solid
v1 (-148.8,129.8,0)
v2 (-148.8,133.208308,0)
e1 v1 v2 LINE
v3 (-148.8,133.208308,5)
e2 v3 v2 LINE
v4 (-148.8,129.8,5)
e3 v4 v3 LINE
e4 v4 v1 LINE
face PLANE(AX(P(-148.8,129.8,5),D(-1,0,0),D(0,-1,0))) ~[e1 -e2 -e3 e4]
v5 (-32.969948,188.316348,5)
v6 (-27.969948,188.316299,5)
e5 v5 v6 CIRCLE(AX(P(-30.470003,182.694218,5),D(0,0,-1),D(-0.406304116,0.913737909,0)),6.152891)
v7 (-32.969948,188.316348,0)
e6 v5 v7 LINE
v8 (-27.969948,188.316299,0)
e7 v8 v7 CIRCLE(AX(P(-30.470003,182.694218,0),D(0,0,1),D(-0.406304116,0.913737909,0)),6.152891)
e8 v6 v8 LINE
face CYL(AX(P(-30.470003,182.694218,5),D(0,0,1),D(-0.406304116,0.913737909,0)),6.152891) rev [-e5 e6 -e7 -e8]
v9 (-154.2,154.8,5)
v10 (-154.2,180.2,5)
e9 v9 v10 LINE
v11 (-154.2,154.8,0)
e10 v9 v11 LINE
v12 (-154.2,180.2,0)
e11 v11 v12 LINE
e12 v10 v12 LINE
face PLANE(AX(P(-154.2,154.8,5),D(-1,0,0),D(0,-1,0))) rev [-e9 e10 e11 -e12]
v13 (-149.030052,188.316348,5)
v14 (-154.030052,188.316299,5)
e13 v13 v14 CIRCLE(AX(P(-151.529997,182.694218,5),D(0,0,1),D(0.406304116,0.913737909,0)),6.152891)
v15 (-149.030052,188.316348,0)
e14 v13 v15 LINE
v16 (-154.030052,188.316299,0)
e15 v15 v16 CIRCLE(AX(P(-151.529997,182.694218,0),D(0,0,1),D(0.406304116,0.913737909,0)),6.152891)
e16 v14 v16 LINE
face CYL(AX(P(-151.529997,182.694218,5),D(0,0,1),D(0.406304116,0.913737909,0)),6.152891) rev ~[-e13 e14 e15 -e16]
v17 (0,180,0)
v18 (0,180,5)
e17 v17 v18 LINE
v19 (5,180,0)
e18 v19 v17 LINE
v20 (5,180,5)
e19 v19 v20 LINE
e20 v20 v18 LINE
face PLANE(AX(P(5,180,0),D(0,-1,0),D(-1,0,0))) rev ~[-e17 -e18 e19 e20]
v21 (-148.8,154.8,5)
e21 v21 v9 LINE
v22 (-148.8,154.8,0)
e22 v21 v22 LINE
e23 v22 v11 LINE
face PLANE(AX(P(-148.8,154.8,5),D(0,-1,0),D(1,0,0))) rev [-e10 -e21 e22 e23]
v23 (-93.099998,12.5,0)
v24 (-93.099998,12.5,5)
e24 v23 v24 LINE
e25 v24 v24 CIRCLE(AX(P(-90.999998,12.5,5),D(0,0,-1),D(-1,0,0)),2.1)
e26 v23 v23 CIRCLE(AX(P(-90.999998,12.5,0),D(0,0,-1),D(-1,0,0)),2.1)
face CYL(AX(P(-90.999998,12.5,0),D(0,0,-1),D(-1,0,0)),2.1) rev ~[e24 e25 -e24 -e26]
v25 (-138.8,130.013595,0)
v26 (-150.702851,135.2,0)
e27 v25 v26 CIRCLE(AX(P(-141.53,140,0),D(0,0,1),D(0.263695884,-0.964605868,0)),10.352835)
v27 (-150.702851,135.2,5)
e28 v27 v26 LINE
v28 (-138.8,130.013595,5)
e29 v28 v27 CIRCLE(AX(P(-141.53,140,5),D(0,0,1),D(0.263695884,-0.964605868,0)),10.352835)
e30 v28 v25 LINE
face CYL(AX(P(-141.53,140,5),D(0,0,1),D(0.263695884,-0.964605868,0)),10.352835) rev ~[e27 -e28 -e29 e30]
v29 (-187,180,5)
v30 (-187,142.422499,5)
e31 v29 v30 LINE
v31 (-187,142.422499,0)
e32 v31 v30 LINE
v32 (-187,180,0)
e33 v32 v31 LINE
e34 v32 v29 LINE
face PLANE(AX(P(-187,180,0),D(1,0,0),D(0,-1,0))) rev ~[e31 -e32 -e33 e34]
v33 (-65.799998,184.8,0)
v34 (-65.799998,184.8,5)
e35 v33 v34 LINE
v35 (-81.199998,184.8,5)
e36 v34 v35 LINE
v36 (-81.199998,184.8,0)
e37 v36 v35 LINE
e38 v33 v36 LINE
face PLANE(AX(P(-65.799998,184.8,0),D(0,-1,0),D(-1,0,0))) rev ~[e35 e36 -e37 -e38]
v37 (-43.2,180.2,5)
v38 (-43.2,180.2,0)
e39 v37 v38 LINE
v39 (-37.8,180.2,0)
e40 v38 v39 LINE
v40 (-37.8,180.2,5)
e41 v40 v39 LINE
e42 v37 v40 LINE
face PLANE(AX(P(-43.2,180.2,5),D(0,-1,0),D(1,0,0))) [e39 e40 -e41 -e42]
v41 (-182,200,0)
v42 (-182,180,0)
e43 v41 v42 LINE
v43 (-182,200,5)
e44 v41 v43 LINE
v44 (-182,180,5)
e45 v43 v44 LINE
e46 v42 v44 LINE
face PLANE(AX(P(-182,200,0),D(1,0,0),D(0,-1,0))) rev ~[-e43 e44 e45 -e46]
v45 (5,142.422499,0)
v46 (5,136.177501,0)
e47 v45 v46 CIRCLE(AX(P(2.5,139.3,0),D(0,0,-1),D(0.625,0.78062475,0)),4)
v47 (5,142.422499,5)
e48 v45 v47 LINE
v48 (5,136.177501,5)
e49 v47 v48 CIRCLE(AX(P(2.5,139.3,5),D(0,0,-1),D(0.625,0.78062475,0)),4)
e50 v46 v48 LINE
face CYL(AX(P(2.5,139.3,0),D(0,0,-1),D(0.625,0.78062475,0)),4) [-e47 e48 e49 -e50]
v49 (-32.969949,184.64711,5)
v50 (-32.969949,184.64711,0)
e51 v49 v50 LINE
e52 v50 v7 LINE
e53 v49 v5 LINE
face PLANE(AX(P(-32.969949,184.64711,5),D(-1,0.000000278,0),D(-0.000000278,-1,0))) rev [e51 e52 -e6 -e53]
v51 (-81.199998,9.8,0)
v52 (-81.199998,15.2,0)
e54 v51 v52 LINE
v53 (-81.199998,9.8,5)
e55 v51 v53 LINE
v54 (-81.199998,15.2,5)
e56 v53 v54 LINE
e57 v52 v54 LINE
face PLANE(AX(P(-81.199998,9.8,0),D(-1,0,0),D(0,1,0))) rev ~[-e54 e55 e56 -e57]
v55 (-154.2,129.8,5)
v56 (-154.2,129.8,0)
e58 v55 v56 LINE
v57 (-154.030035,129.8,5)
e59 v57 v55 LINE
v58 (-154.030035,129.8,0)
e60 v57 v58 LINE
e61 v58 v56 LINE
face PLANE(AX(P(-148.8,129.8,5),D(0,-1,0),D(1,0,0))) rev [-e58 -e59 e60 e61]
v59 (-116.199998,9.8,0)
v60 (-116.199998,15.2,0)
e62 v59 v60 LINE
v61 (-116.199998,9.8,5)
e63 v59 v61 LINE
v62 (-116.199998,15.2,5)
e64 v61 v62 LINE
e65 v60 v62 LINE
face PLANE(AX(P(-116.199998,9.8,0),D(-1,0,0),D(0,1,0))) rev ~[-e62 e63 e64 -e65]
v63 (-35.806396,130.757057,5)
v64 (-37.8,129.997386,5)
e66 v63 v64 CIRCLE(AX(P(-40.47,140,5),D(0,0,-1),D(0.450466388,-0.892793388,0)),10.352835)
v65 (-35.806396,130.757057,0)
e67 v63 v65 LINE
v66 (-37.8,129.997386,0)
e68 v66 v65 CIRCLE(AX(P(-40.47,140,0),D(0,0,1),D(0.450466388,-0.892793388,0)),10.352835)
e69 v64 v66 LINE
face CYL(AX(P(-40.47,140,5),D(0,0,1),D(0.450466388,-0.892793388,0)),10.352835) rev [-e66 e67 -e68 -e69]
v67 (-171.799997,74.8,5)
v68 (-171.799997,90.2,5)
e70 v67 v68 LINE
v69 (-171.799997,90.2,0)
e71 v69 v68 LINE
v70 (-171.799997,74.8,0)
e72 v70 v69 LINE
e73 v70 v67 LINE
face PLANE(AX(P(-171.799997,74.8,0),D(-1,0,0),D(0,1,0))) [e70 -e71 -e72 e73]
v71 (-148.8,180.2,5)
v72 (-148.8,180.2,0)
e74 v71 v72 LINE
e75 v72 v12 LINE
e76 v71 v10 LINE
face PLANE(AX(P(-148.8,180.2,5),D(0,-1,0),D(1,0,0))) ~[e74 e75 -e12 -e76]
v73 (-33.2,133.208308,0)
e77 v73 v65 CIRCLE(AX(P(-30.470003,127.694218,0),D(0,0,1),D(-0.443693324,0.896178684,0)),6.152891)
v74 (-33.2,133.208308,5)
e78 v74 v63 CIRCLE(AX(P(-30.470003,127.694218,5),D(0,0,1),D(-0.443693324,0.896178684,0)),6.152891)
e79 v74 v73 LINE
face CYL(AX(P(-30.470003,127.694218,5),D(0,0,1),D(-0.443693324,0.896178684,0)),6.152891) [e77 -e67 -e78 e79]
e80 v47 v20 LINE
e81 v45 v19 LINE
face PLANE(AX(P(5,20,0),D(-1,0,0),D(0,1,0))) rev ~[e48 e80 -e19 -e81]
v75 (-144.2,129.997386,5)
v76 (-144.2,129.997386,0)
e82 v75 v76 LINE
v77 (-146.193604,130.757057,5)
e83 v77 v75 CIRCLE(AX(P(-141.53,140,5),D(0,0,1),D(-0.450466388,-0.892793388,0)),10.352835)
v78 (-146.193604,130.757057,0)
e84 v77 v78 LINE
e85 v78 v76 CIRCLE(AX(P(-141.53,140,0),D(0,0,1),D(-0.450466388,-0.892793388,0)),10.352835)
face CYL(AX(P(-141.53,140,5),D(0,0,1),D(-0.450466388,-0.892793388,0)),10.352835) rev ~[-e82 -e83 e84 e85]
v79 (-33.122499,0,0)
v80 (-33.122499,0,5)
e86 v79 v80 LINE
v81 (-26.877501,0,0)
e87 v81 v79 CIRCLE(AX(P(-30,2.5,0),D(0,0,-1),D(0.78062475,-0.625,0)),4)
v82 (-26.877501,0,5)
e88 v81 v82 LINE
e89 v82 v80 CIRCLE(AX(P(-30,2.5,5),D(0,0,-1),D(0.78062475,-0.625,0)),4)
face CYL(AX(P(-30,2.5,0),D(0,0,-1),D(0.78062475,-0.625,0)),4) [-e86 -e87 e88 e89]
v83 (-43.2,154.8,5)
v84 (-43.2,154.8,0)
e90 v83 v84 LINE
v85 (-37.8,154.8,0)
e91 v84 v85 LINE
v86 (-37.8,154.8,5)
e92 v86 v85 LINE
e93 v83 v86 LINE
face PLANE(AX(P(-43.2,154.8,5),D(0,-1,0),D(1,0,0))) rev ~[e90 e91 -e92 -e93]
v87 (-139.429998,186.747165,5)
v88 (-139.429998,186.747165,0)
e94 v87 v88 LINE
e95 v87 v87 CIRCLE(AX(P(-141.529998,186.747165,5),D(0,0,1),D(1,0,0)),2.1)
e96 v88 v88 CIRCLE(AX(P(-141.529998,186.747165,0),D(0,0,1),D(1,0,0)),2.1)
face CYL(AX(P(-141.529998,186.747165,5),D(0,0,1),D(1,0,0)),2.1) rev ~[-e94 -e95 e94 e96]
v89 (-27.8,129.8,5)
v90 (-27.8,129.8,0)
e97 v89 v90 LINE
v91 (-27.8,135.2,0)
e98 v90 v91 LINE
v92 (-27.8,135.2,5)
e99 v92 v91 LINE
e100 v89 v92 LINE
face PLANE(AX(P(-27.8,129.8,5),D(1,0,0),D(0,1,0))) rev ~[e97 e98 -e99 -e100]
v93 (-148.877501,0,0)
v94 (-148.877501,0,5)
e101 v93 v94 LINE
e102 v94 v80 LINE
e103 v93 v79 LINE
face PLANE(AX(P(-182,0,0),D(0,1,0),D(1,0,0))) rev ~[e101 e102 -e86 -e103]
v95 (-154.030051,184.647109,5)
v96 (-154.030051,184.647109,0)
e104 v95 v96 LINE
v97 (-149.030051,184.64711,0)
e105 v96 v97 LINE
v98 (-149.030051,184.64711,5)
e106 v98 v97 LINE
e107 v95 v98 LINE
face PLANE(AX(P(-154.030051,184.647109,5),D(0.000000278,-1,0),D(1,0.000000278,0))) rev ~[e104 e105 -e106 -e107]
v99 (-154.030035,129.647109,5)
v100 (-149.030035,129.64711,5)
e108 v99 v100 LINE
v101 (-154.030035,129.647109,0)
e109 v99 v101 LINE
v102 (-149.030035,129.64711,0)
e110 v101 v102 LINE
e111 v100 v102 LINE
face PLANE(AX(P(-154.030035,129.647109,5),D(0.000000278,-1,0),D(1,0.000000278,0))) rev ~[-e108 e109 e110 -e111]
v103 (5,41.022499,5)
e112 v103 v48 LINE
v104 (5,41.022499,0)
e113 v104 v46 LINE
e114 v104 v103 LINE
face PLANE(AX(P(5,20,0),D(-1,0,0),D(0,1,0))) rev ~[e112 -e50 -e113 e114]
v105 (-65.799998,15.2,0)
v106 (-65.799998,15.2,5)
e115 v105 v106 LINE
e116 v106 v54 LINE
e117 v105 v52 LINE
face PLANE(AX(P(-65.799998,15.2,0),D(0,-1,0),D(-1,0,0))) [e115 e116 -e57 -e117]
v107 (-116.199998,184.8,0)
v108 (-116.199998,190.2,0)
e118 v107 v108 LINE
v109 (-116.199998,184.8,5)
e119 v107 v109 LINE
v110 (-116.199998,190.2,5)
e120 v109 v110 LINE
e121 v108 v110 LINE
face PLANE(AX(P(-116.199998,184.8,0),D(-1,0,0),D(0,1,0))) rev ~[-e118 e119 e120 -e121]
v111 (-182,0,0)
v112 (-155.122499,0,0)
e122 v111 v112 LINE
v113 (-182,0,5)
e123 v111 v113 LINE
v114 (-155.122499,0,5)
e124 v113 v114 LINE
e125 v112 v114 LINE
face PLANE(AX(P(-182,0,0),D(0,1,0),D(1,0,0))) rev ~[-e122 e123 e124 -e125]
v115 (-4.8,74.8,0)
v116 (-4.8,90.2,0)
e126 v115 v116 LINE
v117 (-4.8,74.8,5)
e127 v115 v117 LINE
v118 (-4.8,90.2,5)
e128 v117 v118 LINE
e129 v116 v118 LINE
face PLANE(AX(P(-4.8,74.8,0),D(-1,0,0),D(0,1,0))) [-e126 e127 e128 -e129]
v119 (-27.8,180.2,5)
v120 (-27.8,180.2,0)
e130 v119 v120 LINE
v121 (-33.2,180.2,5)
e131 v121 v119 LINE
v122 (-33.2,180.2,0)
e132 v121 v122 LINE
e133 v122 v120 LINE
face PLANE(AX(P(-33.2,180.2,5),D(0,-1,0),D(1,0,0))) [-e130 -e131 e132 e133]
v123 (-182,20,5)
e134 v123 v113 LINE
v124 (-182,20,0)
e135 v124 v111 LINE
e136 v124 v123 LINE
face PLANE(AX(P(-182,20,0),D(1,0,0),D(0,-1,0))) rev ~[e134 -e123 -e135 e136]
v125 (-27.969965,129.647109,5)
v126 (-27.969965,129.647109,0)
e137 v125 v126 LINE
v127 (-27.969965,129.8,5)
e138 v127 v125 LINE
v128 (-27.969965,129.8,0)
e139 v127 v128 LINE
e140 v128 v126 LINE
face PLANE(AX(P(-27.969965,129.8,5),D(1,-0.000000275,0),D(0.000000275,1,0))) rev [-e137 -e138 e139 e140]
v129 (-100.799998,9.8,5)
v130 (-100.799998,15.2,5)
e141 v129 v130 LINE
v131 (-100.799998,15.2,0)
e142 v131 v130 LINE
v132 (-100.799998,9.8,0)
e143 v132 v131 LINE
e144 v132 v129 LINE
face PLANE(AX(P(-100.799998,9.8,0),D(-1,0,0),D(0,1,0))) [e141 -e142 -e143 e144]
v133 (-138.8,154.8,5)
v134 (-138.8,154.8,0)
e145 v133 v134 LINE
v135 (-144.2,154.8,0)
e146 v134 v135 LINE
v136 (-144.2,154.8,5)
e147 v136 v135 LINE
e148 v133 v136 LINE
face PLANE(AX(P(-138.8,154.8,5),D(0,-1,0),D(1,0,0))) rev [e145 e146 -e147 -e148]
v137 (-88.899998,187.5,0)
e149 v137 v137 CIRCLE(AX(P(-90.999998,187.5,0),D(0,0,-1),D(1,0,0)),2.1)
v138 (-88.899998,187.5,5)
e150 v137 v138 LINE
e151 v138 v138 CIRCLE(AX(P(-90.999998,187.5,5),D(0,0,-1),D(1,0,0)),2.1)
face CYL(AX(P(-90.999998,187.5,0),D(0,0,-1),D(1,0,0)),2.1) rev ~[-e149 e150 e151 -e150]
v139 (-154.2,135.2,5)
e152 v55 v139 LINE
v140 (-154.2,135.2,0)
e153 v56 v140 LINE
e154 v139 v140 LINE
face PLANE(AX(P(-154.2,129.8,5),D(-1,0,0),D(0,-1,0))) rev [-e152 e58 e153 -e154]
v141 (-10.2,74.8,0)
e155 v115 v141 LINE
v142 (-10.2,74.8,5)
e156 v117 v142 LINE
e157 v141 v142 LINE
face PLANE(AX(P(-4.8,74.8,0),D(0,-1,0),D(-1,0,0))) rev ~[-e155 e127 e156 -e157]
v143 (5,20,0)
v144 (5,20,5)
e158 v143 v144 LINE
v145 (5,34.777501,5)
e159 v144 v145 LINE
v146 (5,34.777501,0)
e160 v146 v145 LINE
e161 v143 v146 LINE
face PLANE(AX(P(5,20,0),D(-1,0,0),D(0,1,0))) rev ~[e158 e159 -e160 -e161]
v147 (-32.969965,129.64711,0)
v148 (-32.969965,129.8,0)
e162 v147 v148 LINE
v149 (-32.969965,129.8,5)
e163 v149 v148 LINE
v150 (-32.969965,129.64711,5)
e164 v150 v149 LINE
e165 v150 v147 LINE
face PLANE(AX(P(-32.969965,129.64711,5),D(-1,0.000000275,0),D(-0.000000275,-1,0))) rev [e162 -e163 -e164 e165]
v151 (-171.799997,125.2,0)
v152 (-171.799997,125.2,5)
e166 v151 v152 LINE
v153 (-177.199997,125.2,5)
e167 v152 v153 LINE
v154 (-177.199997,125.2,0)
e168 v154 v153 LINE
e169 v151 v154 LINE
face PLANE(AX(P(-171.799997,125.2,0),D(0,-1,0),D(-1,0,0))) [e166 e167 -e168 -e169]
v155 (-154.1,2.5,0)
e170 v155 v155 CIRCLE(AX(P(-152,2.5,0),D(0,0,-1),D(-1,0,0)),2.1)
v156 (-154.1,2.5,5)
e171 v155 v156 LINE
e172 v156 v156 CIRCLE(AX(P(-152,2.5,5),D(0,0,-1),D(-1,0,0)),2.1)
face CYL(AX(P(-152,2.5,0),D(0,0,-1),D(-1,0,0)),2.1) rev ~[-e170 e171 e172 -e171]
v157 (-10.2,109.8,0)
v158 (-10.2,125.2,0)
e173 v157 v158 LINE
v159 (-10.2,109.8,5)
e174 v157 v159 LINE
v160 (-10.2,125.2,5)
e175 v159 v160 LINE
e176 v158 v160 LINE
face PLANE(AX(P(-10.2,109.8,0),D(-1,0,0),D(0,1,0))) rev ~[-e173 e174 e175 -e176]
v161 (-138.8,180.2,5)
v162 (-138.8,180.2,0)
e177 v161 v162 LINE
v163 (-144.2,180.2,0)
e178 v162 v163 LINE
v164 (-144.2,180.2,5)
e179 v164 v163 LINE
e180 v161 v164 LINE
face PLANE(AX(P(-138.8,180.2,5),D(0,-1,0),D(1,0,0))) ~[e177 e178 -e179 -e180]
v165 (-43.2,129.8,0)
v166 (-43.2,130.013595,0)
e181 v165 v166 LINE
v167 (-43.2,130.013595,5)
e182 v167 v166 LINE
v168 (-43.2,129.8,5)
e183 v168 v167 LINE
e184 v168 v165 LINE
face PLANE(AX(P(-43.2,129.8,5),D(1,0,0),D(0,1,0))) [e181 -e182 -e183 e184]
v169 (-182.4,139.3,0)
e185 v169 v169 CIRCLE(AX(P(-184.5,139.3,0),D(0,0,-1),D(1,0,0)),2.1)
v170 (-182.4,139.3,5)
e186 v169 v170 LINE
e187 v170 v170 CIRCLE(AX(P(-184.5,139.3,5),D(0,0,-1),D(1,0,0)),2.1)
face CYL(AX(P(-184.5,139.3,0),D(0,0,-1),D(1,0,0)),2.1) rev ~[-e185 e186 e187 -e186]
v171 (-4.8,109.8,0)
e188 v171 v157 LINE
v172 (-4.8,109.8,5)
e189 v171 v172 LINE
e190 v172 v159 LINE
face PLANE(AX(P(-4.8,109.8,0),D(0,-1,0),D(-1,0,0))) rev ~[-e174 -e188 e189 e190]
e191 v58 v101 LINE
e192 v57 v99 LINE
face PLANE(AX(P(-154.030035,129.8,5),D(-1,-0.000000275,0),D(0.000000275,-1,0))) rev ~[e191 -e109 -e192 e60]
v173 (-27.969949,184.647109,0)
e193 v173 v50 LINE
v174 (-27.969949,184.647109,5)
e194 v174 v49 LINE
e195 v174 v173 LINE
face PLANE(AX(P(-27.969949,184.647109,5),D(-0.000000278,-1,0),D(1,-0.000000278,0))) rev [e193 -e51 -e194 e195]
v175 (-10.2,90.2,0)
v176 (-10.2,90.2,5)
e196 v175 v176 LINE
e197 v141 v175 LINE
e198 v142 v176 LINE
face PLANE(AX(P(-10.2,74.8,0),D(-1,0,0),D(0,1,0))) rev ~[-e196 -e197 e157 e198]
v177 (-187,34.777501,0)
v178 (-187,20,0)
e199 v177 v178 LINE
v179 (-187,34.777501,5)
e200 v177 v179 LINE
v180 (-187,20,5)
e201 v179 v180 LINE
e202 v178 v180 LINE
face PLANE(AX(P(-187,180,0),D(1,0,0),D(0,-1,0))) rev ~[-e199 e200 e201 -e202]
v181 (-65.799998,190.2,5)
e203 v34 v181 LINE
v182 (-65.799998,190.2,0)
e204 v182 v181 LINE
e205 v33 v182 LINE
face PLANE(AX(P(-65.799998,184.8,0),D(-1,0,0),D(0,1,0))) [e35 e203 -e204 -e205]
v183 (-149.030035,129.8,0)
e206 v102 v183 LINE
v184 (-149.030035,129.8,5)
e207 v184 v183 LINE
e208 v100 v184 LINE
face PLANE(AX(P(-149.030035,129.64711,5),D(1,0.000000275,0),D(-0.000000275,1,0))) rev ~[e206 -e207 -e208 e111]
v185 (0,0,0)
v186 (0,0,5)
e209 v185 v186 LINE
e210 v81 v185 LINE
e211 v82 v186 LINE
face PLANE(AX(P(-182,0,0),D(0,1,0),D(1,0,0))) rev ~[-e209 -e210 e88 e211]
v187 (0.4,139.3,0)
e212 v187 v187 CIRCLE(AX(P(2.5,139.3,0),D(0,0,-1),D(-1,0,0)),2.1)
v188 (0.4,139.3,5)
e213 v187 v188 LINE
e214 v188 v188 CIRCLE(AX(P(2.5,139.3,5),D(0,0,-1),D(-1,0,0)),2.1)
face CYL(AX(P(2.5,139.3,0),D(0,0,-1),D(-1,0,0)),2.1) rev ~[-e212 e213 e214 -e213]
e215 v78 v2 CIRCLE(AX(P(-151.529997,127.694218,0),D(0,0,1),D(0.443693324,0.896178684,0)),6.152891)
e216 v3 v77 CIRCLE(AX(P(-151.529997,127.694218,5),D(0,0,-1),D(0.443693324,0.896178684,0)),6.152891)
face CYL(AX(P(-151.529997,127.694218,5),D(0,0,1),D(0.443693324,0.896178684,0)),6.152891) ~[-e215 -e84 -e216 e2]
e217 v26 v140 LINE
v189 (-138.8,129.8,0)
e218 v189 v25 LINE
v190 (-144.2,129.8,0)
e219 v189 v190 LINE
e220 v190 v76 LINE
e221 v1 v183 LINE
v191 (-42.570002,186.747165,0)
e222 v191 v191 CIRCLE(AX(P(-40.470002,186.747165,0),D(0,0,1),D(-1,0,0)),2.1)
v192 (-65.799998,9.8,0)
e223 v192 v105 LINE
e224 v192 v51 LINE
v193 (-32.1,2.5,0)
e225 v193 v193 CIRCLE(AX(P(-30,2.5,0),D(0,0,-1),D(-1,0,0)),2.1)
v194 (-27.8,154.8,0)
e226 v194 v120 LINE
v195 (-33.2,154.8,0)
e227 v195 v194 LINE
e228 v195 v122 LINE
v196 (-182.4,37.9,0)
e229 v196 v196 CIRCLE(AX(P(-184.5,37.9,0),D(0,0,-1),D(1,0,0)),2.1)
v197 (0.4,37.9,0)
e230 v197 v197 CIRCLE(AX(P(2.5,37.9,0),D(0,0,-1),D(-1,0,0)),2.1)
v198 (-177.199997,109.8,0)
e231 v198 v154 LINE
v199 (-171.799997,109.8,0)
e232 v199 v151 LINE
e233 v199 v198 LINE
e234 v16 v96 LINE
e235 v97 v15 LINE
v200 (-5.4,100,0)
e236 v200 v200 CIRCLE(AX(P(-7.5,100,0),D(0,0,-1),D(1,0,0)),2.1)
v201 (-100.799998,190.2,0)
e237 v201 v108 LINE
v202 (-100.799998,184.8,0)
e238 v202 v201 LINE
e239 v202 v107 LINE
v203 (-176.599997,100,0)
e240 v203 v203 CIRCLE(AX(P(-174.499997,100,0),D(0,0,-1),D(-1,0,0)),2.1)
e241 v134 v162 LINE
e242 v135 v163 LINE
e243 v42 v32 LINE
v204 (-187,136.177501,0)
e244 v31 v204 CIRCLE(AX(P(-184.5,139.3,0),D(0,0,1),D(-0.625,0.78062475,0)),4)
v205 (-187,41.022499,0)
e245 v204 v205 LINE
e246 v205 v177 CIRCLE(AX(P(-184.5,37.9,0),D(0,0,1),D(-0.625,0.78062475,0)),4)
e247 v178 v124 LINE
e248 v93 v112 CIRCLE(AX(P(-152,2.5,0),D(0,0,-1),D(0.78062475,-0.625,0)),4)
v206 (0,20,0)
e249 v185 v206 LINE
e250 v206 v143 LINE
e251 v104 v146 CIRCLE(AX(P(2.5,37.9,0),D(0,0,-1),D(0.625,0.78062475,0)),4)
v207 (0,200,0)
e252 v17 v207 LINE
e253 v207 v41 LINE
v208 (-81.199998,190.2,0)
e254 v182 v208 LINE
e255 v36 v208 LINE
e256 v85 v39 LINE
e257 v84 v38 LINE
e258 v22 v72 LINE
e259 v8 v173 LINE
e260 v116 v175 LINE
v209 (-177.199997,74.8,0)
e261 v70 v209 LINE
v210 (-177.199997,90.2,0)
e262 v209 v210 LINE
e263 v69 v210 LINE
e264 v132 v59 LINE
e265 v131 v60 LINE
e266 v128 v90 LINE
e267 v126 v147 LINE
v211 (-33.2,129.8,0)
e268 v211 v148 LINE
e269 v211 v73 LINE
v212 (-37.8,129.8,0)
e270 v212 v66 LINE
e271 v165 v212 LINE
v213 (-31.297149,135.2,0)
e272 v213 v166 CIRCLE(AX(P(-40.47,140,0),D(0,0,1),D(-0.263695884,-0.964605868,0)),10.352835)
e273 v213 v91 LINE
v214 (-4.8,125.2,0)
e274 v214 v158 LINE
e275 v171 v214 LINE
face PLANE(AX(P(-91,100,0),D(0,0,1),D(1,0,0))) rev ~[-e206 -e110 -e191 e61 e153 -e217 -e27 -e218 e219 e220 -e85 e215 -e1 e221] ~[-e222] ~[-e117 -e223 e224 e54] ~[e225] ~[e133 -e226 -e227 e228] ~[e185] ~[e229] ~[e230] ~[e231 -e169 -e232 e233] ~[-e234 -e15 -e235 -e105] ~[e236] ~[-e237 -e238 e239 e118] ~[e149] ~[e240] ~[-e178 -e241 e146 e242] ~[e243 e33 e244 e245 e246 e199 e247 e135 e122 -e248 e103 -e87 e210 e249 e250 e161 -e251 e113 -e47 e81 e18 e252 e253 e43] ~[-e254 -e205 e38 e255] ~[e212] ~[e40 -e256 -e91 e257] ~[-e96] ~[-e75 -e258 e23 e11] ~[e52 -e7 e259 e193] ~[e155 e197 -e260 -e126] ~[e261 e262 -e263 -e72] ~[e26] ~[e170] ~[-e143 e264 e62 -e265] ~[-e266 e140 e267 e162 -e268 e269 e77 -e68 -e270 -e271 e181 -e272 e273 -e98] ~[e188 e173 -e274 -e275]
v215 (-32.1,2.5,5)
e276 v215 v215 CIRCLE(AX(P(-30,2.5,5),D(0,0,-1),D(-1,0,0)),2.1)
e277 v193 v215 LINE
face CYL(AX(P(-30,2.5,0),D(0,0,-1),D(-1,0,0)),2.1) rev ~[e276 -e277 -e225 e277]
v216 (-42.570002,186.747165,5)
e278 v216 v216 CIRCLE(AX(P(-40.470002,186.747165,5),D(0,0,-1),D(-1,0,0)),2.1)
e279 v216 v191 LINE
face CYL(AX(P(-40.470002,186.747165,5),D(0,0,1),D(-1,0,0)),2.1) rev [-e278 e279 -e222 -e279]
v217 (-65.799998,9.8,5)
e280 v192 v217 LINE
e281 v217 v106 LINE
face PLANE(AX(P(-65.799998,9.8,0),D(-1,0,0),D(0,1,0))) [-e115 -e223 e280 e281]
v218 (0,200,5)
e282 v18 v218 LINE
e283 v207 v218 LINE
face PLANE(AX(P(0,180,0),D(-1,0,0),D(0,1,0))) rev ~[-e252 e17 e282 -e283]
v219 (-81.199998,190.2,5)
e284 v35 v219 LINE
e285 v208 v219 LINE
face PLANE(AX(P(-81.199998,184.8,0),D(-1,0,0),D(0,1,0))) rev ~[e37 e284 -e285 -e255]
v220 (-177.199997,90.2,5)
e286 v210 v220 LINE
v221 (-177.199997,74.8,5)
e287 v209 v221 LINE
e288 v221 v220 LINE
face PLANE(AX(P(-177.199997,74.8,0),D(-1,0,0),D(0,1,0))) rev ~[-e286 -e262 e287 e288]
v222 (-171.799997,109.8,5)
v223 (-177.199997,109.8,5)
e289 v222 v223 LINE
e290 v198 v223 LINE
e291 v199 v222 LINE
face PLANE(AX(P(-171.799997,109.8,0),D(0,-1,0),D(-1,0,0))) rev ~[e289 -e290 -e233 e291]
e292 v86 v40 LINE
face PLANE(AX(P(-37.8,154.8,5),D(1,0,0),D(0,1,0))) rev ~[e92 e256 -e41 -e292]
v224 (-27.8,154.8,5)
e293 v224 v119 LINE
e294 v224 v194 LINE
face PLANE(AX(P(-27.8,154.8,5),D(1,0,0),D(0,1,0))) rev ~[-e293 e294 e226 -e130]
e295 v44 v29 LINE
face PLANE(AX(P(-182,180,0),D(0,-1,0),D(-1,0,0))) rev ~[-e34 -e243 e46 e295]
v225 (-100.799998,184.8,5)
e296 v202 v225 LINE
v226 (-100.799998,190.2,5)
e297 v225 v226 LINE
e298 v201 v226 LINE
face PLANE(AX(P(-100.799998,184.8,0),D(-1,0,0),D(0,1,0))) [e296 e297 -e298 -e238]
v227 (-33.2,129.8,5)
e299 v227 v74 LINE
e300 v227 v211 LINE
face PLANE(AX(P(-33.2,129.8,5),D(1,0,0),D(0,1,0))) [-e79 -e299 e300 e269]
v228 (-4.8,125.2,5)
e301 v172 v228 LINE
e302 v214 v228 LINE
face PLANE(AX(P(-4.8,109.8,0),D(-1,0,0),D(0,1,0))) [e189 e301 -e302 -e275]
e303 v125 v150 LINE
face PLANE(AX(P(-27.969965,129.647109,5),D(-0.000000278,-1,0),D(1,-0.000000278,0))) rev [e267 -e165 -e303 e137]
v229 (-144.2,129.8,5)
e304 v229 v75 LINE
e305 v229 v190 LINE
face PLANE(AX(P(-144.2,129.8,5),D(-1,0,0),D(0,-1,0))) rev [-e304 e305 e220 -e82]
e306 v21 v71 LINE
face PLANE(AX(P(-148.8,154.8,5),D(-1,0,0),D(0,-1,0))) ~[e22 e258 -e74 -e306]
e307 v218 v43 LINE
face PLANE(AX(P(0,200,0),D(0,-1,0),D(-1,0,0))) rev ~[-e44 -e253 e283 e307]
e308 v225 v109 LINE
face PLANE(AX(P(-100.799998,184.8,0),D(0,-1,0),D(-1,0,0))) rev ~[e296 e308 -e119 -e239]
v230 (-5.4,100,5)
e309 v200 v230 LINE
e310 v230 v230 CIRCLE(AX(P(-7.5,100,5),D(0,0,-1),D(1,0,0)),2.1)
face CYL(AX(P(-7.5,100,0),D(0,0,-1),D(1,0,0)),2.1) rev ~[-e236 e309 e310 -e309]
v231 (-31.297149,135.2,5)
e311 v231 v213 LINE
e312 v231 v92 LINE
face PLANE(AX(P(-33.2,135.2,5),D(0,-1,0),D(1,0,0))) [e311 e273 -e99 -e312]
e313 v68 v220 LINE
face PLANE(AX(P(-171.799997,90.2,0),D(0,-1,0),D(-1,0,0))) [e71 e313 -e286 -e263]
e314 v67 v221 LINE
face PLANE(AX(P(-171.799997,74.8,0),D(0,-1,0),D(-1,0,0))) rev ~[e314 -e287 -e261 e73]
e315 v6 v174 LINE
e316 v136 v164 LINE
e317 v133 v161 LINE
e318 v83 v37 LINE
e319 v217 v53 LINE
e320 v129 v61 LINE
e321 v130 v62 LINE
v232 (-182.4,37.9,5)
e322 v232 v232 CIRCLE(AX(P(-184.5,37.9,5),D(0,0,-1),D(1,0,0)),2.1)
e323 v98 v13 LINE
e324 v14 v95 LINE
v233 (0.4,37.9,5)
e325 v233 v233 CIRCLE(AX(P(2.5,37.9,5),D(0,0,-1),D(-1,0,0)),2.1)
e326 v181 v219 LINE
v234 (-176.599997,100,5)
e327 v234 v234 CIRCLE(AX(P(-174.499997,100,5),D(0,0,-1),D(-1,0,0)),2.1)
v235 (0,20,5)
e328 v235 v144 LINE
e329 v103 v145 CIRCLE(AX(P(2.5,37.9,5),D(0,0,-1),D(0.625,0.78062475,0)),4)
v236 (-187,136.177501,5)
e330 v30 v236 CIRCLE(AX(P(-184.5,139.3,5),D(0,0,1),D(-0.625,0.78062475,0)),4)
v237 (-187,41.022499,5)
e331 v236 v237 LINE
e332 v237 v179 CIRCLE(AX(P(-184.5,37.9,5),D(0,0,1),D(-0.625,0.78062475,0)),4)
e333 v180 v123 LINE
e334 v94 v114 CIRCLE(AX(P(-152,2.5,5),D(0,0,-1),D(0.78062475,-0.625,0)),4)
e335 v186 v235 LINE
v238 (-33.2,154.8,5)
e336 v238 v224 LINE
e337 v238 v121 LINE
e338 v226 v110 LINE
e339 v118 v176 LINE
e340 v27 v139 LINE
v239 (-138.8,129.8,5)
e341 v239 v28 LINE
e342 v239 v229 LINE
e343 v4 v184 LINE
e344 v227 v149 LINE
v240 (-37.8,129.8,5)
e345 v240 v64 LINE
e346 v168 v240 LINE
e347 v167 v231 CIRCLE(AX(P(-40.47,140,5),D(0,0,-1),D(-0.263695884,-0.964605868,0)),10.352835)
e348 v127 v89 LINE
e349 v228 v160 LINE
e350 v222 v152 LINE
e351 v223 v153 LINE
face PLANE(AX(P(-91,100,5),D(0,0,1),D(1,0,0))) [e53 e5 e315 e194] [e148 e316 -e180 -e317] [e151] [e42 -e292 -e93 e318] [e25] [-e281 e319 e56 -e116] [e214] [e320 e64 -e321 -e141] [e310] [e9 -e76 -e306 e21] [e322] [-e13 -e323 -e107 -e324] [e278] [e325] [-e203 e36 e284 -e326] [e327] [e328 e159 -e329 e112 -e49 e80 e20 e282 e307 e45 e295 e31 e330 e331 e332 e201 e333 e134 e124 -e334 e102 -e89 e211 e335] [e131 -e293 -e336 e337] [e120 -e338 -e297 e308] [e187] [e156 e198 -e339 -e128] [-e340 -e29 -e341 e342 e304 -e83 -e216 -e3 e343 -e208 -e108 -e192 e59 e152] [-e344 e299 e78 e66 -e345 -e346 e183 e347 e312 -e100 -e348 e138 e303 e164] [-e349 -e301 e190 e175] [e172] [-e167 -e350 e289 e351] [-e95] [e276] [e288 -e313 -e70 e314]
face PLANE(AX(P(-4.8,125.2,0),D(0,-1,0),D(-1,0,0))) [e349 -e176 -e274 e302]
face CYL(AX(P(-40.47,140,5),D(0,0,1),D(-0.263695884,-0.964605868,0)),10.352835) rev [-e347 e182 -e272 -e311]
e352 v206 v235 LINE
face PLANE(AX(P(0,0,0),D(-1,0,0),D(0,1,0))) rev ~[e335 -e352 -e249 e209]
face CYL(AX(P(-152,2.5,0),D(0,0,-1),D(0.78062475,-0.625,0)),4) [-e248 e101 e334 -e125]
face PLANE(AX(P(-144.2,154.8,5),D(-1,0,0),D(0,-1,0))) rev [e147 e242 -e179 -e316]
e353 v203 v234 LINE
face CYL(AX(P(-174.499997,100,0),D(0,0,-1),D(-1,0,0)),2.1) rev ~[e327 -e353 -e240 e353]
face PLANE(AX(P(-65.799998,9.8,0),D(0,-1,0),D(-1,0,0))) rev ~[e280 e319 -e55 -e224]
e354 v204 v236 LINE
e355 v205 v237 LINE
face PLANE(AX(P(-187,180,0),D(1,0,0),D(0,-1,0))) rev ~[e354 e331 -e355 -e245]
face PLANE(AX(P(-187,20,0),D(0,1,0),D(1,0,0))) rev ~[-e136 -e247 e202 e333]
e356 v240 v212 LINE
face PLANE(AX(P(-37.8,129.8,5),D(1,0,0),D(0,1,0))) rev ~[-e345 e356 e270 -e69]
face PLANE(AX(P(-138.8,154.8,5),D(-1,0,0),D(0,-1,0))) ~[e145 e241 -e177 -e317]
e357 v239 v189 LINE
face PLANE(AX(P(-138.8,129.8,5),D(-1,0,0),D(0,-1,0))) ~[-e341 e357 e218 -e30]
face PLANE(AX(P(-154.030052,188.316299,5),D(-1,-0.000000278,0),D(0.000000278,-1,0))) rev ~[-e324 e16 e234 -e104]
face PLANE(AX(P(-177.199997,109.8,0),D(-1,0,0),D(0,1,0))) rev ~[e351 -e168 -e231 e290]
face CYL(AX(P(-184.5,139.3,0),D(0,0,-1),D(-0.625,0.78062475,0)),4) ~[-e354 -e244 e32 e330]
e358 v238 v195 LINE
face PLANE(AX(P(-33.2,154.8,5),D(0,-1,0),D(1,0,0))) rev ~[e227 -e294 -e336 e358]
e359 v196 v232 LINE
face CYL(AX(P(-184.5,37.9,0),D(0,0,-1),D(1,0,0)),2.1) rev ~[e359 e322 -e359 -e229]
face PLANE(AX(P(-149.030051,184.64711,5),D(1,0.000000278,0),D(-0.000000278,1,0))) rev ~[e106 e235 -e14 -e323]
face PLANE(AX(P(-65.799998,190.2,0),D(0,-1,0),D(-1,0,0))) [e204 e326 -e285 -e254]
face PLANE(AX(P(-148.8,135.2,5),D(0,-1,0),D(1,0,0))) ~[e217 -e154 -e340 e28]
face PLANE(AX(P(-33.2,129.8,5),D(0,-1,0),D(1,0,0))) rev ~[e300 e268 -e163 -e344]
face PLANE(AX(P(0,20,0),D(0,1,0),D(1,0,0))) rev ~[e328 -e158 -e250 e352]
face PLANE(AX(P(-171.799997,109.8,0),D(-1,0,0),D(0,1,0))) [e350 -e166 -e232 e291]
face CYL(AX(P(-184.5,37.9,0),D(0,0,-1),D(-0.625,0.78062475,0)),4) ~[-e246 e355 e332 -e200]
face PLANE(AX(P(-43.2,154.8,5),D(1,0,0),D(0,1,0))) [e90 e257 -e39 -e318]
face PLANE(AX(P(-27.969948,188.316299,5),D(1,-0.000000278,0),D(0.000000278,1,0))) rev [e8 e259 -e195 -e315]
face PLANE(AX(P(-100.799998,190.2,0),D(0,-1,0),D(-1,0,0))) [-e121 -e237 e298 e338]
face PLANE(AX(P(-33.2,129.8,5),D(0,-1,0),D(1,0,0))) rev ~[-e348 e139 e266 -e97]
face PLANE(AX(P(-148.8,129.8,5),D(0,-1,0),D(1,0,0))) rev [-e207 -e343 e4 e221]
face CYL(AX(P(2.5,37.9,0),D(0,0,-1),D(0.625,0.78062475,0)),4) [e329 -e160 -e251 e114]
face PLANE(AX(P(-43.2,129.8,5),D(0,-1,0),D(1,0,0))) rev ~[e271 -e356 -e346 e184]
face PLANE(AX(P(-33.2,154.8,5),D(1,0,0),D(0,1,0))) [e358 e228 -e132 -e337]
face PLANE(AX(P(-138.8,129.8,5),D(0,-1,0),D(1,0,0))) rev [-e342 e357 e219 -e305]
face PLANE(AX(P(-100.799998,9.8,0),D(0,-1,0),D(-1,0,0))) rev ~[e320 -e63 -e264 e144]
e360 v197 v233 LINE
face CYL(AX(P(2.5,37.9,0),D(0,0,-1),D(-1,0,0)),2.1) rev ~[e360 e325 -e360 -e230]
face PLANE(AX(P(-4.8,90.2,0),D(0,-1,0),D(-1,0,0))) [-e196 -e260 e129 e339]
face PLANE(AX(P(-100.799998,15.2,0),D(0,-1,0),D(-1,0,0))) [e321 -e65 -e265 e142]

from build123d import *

# Parameters (mm, degrees)
BOSS_EXTRUDE1_DEPTH = 5
SKETCH2_R           = 2.1
CUT_EXTRUDE1_DEPTH  = 10
BOSS_EXTRUDE2_DEPTH = 5
BOSS_EXTRUDE3_DEPTH = 5
SKETCH5_R           = 2.1
CUT_EXTRUDE2_DEPTH  = 5
BOSS_EXTRUDE4_DEPTH = 5
SKETCH7_W           = 5.4
SKETCH7_H           = 25.4
SKETCH7_H_2         = 5.4
CUT_EXTRUDE4_DEPTH  = 5
SKETCH8_R           = 2.1
SKETCH8_W           = 15.4
SKETCH8_H           = 5.4
SKETCH8_W_2         = 15
SKETCH8_H_2         = 5
SKETCH8_W_3         = 5.4
SKETCH8_H_3         = 15.4
CUT_EXTRUDE5_DEPTH  = 5
SKETCH9_W           = 15
SKETCH9_H           = 5
CUT_EXTRUDE6_DEPTH  = 10
SKETCH10_R          = 2.1
CUT_EXTRUDE7_DEPTH  = 10


with BuildPart() as part:
    # Sketch1 → Boss-Extrude1 (new body)
    with BuildSketch(Plane.XY):
        Polygon((-182, 200), (-182, 180), (-187, 180), (-187, 20), (-182, 20), (-182, 0), (0, 0), (0, 20), (5, 20), (5, 180), (0, 180), (0, 200), align=None)
    extrude(amount=BOSS_EXTRUDE1_DEPTH)

    # Sketch2 → Cut-Extrude1 (cut)
    with BuildSketch(Plane(origin=(0, 0, 0), x_dir=(-1, 0, 0), z_dir=(0, 0, -1))):
        with Locations((-2.5, 139.3)):
            Circle(SKETCH2_R)
        with Locations((-2.5, 37.9)):
            Circle(SKETCH2_R)
        with Locations(Location((184.5, 37.9, 0), (0, 0, 180))):
            Circle(SKETCH2_R)
        with Locations(Location((184.5, 139.3, 0), (0, 0, 180))):
            Circle(SKETCH2_R)
    extrude(amount=-CUT_EXTRUDE1_DEPTH, mode=Mode.SUBTRACT)

    # Sketch3 → Boss-Extrude2 (add)
    with BuildSketch(Plane(origin=(0, 0, 0), x_dir=(-1, 0, 0), z_dir=(0, 0, -1))):
        with BuildLine():
            Line((-5, 136.177501001), (-5, 142.422498999))
            ThreePointArc((-5, 142.422498999), (-6.5, 139.3), (-5, 136.177501001))
        make_face()
    boss_extrude2 = extrude(amount=-BOSS_EXTRUDE2_DEPTH)

    # Sketch4 → Boss-Extrude3 (add)
    with BuildSketch(Plane(origin=(0, 0, 0), x_dir=(-1, 0, 0), z_dir=(0, 0, -1))):
        with BuildLine():
            Line((-5, 34.777501001), (-5, 41.022498999))
            ThreePointArc((-5, 41.022498999), (-6.5, 37.9), (-5, 34.777501001))
        make_face()
    boss_extrude3 = extrude(amount=-BOSS_EXTRUDE3_DEPTH)

    # Mirror1: Boss-Extrude2, Boss-Extrude3 across plane
    add(boss_extrude2.mirror(Plane.ZY.offset(91)))
    add(boss_extrude3.mirror(Plane.ZY.offset(91)))

    # Sketch5 → Cut-Extrude2 (cut)
    with BuildSketch(Plane(origin=(0, 0, 0), x_dir=(-1, 0, 0), z_dir=(0, 0, -1))):
        with Locations((30, 2.5)):
            Circle(SKETCH5_R)
        with Locations((152, 2.5)):
            Circle(SKETCH5_R)
    extrude(amount=-CUT_EXTRUDE2_DEPTH, mode=Mode.SUBTRACT)

    # Sketch6 → Boss-Extrude4 (add)
    with BuildSketch(Plane(origin=(0, 0, 0), x_dir=(-1, 0, 0), z_dir=(0, 0, -1))):
        with BuildLine():
            Line((155.122498999, 0), (148.877501001, 0))
            ThreePointArc((148.877501001, 0), (152, -1.5), (155.122498999, 0))
        make_face()
        with BuildLine():
            Line((33.122498999, 0), (26.877501001, 0))
            ThreePointArc((26.877501001, 0), (30, -1.5), (33.122498999, 0))
        make_face()
    extrude(amount=-BOSS_EXTRUDE4_DEPTH)

    # Sketch7 → Cut-Extrude4 (cut)
    with BuildSketch(Plane.XY.offset(5)):
        with Locations((-30.5, 167.5)):
            Rectangle(SKETCH7_W, SKETCH7_H)
        with Locations((-40.5, 167.5)):
            Rectangle(SKETCH7_W, SKETCH7_H)
        with Locations((-30.5, 132.5)):
            Rectangle(SKETCH7_W, SKETCH7_H_2)
        with Locations((-40.5, 132.5)):
            Rectangle(SKETCH7_W, SKETCH7_H_2)
    cut_extrude4 = extrude(amount=-CUT_EXTRUDE4_DEPTH, mode=Mode.SUBTRACT)

    # Mirror2: Cut-Extrude4 across plane
    add(cut_extrude4.mirror(Plane.ZY.offset(91)), mode=Mode.SUBTRACT)

    # Sketch8 → Cut-Extrude5 (cut)
    # profile 1 of 12: a face of its own
    with BuildSketch(Plane(origin=(0, 0, 0), x_dir=(-1, 0, 0), z_dir=(0, 0, -1))):
        with Locations((90.999998379, 12.5)):
            Circle(SKETCH8_R)
    # profile 2 of 12: a face of its own
    with BuildSketch(Plane(origin=(0, 0, 0), x_dir=(-1, 0, 0), z_dir=(0, 0, -1))):
        with Locations(Location((90.999998379, 187.5, 0), (0, 0, 180))):
            Circle(SKETCH8_R)
    # profile 3 of 12: a face of its own
    with BuildSketch(Plane(origin=(0, 0, 0), x_dir=(-1, 0, 0), z_dir=(0, 0, -1))):
        with Locations((174.499996757, 100)):
            Circle(SKETCH8_R)
    # profile 4 of 12: a face of its own
    with BuildSketch(Plane(origin=(0, 0, 0), x_dir=(-1, 0, 0), z_dir=(0, 0, -1))):
        with Locations(Location((7.5, 100, 0), (0, 0, 180))):
            Circle(SKETCH8_R)
    # profile 5 of 12: a face of its own
    with BuildSketch(Plane(origin=(0, 0, 0), x_dir=(-1, 0, 0), z_dir=(0, 0, -1))):
        with Locations((108.499998379, 187.5)):
            Rectangle(SKETCH8_W, SKETCH8_H)
    # profile 6 of 12: a face of its own
    with BuildSketch(Plane(origin=(0, 0, 0), x_dir=(-1, 0, 0), z_dir=(0, 0, -1))):
        with Locations((73.499998379, 12.5)):
            Rectangle(SKETCH8_W, SKETCH8_H)
        with Locations((73.499998379, 12.5)):
            Rectangle(SKETCH8_W_2, SKETCH8_H_2, mode=Mode.SUBTRACT)
    # profile 7 of 12: a face of its own
    with BuildSketch(Plane(origin=(0, 0, 0), x_dir=(-1, 0, 0), z_dir=(0, 0, -1))):
        with Locations((73.499998379, 187.5)):
            Rectangle(SKETCH8_W, SKETCH8_H)
    # profile 8 of 12: a face of its own
    with BuildSketch(Plane(origin=(0, 0, 0), x_dir=(-1, 0, 0), z_dir=(0, 0, -1))):
        with Locations((108.499998379, 12.5)):
            Rectangle(SKETCH8_W, SKETCH8_H)
    # profile 9 of 12: a face of its own
    with BuildSketch(Plane(origin=(0, 0, 0), x_dir=(-1, 0, 0), z_dir=(0, 0, -1))):
        with Locations((174.499996757, 82.5)):
            Rectangle(SKETCH8_W_3, SKETCH8_H_3)
    # profile 10 of 12: a face of its own
    with BuildSketch(Plane(origin=(0, 0, 0), x_dir=(-1, 0, 0), z_dir=(0, 0, -1))):
        with Locations((174.499996757, 117.5)):
            Rectangle(SKETCH8_W_3, SKETCH8_H_3)
    # profile 11 of 12: a face of its own
    with BuildSketch(Plane(origin=(0, 0, 0), x_dir=(-1, 0, 0), z_dir=(0, 0, -1))):
        with Locations((7.5, 82.5)):
            Rectangle(SKETCH8_W_3, SKETCH8_H_3)
    # profile 12 of 12: a face of its own
    with BuildSketch(Plane(origin=(0, 0, 0), x_dir=(-1, 0, 0), z_dir=(0, 0, -1))):
        with Locations((7.5, 117.5)):
            Rectangle(SKETCH8_W_3, SKETCH8_H_3)
    extrude(amount=-CUT_EXTRUDE5_DEPTH, mode=Mode.SUBTRACT)


with BuildPart() as cut_extrude5_piece_1:
    # of the separate pieces the step leaves, piece 1, a body of its own (cut_extrude5_pieces)
    add(part.part.solids().sort_by_distance((-182, 200, 0))[0])

    # Sketch10 → Cut-Extrude7 (cut)
    with BuildSketch(Plane.XY.offset(5)):
        with BuildLine():
            Line((-148.8, 135.2), (-148.8, 133.208307979))
            ThreePointArc((-148.8, 133.208307979), (-147.314689345, 132.176321717), (-146.193604234, 130.757057274))
            ThreePointArc((-146.193604234, 130.757057274), (-145.216422795, 130.325730949), (-144.2, 129.997385607))
            Line((-144.2, 129.997385607), (-144.2, 135.2))
            Line((-144.2, 135.2), (-138.8, 135.2))
            Line((-138.8, 135.2), (-138.8, 130.013594506))
            ThreePointArc((-138.8, 130.013594506), (-137.394509388, 149.490991099), (-150.702850957, 135.2))
            Line((-150.702850957, 135.2), (-148.8, 135.2))
        make_face()
        Polygon((-149.030035391, 129.647109894), (-149.030035433, 129.8), (-154.030035433, 129.8), (-154.030035391, 129.647108503), align=None)
        with Locations((-141.529997703, 186.747164896)):
            Circle(SKETCH10_R)
        with BuildLine():
            Line((-149.030050697, 184.647109894), (-149.030051718, 188.316347969))
            ThreePointArc((-149.030051718, 188.316347969), (-151.530056924, 188.847109198), (-154.030051718, 188.316298928))
            Line((-154.030051718, 188.316298928), (-154.030050697, 184.647108503))
            Line((-154.030050697, 184.647108503), (-149.030050697, 184.647109894))
        make_face()
    cut_extrude7 = extrude(amount=-CUT_EXTRUDE7_DEPTH, mode=Mode.SUBTRACT)

    # Mirror3: Cut-Extrude7 across plane
    add(cut_extrude7.mirror(Plane(origin=(-91, 0, 0), x_dir=(0, 0, 1), z_dir=(1, 0, 0))), mode=Mode.SUBTRACT)


with BuildPart() as cut_extrude5_piece_2:
    # of the separate pieces the step leaves, piece 2, a body of its own (cut_extrude5_pieces)
    add(part.part.solids().sort_by_distance((-80.999998379, 10, 0))[0])

    # Sketch9 → Cut-Extrude6 (cut)
    with BuildSketch(Plane.XY.offset(5)):
        with Locations((-73.499998379, 12.5)):
            Rectangle(SKETCH9_W, SKETCH9_H)
    extrude(amount=-CUT_EXTRUDE6_DEPTH, mode=Mode.SUBTRACT)


solid = cut_extrude5_piece_1.part
